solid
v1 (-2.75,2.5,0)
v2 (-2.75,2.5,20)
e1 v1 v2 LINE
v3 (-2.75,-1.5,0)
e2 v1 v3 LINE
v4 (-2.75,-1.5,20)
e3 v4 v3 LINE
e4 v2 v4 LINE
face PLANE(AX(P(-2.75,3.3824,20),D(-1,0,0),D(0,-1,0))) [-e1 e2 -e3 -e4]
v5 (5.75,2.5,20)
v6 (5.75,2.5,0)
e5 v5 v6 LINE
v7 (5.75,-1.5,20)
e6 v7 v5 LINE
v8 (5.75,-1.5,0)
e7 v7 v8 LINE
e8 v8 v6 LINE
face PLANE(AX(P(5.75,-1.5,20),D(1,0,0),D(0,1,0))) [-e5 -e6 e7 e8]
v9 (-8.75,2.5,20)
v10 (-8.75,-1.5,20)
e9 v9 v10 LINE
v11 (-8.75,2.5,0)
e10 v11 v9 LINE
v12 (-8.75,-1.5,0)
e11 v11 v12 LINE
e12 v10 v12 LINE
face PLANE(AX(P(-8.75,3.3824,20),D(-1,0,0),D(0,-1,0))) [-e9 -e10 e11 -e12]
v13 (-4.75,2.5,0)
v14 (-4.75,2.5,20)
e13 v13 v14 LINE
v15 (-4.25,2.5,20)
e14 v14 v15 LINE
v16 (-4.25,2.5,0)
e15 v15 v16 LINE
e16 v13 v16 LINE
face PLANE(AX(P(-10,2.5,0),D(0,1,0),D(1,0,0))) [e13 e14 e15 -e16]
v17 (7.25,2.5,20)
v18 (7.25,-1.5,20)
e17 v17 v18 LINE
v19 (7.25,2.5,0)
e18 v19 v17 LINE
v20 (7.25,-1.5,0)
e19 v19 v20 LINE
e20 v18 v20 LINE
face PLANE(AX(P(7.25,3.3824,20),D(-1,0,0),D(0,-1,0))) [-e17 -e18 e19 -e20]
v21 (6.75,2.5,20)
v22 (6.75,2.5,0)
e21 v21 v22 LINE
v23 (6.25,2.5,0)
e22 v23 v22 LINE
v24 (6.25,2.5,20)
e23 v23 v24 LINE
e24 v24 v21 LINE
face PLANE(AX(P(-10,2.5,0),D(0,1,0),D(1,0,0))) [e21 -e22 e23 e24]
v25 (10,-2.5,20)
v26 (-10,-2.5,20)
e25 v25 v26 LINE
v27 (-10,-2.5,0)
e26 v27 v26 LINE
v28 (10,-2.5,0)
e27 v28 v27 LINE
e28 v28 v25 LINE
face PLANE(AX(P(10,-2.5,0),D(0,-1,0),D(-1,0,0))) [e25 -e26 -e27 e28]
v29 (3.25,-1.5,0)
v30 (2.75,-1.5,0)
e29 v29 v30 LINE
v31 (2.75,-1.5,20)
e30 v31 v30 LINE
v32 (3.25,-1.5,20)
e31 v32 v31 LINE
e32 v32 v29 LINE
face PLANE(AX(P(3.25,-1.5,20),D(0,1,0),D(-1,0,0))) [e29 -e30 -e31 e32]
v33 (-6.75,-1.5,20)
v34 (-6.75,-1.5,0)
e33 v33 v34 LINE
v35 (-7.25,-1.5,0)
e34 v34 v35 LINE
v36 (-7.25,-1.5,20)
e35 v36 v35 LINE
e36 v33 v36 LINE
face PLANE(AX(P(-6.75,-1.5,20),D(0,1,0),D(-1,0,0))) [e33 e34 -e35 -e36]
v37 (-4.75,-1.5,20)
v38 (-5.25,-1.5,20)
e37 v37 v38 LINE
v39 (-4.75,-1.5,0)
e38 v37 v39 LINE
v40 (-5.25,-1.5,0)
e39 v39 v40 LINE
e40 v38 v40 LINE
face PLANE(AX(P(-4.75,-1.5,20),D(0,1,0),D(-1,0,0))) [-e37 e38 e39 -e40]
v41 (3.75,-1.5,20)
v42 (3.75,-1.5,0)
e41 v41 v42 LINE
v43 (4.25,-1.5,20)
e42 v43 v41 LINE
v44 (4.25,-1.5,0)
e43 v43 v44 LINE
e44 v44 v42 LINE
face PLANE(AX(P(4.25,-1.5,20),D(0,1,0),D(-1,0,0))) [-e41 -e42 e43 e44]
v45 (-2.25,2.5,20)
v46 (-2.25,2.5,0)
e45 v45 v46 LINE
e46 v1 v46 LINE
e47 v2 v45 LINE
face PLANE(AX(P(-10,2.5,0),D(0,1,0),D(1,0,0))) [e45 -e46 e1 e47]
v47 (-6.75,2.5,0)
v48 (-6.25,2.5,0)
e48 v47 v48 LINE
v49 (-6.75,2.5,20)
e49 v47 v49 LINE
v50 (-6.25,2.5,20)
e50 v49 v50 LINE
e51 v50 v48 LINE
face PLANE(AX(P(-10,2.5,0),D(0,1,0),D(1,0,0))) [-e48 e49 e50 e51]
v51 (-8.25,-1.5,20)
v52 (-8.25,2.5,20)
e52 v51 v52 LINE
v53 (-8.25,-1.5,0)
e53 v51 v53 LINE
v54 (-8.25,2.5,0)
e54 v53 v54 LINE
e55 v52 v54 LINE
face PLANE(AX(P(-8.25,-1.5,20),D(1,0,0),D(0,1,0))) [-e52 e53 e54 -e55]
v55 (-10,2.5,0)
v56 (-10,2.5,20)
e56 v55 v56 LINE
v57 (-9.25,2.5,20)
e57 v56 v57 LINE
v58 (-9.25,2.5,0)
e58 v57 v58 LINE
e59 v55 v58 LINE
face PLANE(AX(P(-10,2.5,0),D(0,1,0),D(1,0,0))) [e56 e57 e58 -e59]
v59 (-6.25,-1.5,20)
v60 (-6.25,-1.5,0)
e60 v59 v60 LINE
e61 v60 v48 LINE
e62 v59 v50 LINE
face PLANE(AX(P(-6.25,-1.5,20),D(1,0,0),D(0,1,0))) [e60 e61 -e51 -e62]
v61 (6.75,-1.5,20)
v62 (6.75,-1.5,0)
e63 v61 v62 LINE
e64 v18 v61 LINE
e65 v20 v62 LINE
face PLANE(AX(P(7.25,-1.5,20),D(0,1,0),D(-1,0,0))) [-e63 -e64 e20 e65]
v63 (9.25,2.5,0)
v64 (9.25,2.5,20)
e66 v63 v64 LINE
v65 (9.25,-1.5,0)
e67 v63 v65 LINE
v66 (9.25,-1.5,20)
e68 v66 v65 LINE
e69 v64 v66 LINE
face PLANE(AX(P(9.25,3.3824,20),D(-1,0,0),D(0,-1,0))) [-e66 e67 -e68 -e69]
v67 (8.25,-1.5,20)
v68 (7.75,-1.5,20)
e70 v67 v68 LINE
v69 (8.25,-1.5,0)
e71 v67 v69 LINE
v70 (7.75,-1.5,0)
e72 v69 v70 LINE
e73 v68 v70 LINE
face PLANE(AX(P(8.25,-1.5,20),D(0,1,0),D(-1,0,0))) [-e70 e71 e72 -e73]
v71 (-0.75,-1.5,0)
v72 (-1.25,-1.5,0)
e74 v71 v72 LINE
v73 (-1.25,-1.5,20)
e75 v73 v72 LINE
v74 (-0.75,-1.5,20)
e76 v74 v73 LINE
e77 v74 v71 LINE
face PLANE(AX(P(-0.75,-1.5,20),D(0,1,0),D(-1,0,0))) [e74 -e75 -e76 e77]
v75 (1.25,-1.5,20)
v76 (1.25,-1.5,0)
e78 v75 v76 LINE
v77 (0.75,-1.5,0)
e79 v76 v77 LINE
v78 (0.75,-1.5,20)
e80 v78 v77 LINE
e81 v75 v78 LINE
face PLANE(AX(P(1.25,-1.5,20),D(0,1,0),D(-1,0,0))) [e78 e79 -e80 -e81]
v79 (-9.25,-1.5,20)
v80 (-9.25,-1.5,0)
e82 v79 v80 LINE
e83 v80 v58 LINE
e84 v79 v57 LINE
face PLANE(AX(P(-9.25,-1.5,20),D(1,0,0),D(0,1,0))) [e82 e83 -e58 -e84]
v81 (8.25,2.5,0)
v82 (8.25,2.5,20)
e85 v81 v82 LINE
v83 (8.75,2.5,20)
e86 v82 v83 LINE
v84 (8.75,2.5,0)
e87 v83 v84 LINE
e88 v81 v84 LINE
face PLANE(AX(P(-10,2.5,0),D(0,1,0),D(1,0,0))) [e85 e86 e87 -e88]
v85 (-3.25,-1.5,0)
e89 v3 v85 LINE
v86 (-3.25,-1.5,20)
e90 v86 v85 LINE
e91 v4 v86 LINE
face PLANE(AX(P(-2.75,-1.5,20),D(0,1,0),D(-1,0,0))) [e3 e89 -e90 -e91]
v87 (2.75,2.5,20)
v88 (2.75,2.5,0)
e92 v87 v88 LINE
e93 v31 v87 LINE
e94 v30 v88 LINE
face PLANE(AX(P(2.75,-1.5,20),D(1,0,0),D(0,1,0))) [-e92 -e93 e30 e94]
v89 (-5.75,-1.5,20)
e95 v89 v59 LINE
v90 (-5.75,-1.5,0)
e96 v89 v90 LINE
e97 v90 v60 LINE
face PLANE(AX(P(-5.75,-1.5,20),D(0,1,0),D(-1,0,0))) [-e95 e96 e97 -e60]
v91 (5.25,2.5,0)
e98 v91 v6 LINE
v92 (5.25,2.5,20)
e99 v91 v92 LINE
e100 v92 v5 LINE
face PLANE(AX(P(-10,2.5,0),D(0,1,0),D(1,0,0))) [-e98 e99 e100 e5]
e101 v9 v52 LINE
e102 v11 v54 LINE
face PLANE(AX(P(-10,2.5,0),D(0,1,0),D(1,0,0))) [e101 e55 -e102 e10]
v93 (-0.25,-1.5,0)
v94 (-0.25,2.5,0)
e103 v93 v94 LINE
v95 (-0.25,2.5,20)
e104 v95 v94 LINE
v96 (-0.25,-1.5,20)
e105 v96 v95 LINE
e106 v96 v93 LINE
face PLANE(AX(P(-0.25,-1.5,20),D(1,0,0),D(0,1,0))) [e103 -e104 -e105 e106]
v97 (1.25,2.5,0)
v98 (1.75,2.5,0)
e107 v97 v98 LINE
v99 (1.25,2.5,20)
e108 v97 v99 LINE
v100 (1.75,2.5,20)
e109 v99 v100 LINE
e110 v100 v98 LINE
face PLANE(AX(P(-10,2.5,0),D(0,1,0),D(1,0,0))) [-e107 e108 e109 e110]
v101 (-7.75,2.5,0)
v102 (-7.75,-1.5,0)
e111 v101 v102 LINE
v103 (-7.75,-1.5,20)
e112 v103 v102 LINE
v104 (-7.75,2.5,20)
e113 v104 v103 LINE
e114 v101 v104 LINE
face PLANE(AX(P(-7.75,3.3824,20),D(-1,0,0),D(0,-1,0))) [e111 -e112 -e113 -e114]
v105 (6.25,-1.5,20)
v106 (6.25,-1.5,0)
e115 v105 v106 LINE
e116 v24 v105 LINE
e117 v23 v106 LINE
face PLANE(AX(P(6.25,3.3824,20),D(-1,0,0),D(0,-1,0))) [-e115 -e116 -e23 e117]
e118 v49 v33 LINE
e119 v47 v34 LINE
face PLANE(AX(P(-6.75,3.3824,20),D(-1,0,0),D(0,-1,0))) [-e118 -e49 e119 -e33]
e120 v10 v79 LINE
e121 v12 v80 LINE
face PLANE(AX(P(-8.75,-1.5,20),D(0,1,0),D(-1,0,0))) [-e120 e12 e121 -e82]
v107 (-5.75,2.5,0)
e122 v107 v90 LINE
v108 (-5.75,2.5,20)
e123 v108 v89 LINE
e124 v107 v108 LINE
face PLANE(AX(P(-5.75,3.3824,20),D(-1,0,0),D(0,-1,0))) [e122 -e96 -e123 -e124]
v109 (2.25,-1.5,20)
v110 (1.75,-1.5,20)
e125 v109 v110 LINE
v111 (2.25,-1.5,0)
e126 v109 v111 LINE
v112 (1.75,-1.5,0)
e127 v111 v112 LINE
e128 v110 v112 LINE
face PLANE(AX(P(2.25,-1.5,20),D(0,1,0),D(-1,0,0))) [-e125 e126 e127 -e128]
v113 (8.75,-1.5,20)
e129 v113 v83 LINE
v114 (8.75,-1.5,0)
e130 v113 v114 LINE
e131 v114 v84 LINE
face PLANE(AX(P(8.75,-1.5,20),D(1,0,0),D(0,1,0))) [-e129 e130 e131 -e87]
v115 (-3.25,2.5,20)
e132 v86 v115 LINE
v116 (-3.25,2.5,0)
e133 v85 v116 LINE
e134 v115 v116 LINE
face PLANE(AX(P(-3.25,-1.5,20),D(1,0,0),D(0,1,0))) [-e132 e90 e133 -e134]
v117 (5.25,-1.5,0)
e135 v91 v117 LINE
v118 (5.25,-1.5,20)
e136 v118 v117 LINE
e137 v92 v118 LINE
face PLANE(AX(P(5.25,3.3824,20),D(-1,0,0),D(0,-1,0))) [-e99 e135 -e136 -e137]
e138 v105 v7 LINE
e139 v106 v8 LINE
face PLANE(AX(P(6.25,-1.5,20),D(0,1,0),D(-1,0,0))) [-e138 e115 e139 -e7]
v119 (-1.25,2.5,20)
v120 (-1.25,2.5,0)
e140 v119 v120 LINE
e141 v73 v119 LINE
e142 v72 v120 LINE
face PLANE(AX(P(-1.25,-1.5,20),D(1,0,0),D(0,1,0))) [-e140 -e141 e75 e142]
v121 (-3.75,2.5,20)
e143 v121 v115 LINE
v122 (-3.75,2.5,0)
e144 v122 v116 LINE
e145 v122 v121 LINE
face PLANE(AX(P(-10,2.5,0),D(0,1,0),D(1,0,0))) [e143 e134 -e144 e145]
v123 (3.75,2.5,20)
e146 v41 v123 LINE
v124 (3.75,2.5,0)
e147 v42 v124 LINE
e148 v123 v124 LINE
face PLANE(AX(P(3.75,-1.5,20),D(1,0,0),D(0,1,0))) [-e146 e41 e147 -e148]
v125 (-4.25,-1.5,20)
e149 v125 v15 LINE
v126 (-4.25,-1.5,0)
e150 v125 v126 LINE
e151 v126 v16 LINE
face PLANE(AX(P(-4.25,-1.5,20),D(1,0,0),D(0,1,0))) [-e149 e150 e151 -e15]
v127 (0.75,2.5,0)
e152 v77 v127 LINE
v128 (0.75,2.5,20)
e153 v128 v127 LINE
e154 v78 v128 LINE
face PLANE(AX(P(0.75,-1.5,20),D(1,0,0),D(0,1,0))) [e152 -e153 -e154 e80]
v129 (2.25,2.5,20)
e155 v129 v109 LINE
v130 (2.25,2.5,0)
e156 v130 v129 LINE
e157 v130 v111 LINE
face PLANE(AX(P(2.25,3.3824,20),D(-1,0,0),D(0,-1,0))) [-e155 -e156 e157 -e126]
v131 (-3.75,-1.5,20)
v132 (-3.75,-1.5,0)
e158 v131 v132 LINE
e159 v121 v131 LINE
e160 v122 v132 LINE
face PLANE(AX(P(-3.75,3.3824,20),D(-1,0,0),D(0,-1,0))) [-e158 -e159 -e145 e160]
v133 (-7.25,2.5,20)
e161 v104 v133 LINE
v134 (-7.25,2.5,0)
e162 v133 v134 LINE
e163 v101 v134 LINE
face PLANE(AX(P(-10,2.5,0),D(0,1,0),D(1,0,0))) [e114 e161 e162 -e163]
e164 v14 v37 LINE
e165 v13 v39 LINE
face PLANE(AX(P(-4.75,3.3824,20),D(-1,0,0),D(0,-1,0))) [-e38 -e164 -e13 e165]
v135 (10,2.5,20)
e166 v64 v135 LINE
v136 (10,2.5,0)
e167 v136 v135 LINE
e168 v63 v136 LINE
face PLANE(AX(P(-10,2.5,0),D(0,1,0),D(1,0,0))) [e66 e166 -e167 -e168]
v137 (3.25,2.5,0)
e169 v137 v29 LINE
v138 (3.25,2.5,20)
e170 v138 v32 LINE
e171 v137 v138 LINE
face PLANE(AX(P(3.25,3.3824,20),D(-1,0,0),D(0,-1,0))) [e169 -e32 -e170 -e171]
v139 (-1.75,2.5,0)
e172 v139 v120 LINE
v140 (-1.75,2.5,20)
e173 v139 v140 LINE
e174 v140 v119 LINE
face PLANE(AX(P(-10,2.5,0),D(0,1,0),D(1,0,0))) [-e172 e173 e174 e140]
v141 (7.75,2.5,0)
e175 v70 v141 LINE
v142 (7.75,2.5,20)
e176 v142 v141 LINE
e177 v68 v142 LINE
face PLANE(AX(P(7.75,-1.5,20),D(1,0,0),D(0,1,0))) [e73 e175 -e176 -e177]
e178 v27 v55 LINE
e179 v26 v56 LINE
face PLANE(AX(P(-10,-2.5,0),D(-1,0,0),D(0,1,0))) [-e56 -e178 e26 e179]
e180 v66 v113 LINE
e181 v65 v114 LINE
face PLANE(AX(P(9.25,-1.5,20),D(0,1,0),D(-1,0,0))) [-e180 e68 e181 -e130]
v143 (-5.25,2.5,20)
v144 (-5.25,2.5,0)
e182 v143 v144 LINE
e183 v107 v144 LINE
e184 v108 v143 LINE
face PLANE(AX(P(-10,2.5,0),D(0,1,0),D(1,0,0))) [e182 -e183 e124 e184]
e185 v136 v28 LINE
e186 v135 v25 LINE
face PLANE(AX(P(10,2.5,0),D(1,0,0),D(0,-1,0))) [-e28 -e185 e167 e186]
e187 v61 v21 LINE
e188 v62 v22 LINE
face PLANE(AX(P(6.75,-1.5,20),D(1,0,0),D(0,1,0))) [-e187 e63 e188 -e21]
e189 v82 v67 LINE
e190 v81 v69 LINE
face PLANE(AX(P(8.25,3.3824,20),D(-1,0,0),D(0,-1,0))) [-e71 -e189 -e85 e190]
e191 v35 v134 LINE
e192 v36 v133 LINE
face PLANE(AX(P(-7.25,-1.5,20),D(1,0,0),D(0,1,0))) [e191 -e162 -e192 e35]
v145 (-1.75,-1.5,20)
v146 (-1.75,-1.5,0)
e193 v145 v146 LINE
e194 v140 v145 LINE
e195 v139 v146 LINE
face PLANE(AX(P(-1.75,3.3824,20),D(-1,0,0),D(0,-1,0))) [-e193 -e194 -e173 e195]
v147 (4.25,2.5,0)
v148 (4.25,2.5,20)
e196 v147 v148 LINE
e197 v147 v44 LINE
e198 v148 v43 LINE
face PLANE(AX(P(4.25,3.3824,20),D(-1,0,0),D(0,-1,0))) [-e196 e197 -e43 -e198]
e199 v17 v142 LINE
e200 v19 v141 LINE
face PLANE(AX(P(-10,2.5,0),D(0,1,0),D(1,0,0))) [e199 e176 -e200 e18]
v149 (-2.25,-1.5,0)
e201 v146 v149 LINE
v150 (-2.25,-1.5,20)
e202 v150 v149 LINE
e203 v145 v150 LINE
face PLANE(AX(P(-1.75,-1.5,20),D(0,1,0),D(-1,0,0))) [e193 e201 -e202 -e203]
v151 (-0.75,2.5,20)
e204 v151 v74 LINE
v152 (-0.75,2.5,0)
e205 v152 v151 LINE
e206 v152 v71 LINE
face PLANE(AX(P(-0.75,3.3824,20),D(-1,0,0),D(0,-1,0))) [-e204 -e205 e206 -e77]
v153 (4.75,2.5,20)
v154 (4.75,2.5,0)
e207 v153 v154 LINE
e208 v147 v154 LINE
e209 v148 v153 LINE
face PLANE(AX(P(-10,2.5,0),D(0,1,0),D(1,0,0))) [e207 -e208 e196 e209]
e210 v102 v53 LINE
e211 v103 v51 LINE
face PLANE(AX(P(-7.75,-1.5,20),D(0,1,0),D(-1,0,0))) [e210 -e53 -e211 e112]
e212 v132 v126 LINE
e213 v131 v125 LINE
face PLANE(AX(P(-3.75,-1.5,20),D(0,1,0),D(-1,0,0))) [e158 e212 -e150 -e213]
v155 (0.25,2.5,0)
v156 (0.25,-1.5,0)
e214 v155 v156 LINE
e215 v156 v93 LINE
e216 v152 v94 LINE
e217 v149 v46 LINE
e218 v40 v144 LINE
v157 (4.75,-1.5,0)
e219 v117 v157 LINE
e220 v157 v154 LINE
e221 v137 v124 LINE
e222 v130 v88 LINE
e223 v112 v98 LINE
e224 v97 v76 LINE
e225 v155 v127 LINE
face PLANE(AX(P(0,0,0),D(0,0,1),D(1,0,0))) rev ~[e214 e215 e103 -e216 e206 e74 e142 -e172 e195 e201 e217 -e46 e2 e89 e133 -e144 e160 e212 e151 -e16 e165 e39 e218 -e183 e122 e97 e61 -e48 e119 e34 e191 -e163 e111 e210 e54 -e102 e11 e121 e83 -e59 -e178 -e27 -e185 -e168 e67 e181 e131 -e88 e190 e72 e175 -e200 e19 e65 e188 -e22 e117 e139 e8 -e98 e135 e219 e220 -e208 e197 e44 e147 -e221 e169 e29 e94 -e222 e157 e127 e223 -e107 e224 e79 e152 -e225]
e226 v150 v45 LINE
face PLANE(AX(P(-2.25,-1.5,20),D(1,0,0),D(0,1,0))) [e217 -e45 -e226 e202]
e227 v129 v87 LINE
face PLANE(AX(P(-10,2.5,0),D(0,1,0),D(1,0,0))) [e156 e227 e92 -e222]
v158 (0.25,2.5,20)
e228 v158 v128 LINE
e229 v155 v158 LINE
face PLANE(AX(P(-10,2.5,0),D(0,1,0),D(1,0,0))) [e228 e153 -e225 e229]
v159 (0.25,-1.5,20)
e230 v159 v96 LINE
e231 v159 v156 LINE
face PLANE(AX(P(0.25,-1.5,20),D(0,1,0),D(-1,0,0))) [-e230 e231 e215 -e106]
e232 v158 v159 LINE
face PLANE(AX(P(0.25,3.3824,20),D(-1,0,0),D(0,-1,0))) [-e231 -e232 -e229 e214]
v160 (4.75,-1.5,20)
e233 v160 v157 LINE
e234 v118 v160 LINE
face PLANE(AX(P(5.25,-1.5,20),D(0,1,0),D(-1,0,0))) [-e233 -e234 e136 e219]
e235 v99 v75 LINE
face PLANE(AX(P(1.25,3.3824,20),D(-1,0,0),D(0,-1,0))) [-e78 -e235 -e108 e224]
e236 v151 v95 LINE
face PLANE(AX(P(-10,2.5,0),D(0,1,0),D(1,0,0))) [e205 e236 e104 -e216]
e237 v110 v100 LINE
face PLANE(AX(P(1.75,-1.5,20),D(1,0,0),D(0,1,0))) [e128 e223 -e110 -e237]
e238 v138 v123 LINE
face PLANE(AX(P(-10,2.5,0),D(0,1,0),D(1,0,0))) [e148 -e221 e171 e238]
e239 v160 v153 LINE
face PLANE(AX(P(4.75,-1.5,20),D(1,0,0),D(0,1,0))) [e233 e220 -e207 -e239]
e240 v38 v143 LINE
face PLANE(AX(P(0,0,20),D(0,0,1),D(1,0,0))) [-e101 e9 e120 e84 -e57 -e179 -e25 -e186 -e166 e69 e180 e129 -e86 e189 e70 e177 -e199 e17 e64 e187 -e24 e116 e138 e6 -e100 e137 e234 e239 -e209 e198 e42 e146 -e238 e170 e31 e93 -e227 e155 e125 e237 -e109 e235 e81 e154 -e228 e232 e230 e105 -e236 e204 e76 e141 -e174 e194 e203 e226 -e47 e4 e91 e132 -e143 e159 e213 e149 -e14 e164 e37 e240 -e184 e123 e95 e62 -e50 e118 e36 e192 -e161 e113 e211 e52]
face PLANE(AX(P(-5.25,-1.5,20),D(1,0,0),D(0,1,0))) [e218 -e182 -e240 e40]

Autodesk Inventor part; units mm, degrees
ref_plane "YZ Plane" through (0, 0, 0) normal (1, 0, 0) x (0, 1, 0)
ref_plane "XZ Plane" through (0, 0, 0) normal (0, 1, 0) x (-1, 0, 0)
ref_plane "XY Plane" through (0, 0, 0) normal (0, 0, 1) x (1, 0, 0)
sketch "Sketch1" plane through (0, 0, 0) normal (0, 0, 1) x (1, 0, 0)
  line L0 (-10, 2.5) -> (10, 2.5)
  line L1 (10, 2.5) -> (10, -2.5)
  line L2 (10, -2.5) -> (-10, -2.5)
  line L3 (-10, -2.5) -> (-10, 2.5)
  line L4 (-10, 2.5) -> (10, -2.5) construction
  line L5 (10, 2.5) -> (-10, -2.5) construction
  point P0 (0, 0)
  dimension "d0" = 20
  dimension "d1" = 5
extrude "Extrusion1" add sketch "Sketch1" along normal blind 20
sketch "Sketch2" plane through (0, 0, 20) normal (0, 0, 1) x (1, 0, 0)
  line L0 (-0.25, 3.3824) -> (0.25, 3.3824)
  line L1 (0.25, 3.3824) -> (0.25, -1.5)
  line L2 (0.25, -1.5) -> (-0.25, -1.5)
  line L3 (-0.25, -1.5) -> (-0.25, 3.3824)
  line L4 (-0.25, 3.3824) -> (0.25, -1.5) construction
  line L5 (0.25, 3.3824) -> (-0.25, -1.5) construction
  line L6 (-10, -2.5) -> (10, -2.5) projected
  line L7 (0.75, 3.3824) -> (1.25, 3.3824)
  line L8 (1.25, 3.3824) -> (1.25, -1.5)
  line L9 (1.25, -1.5) -> (0.75, -1.5)
  line L10 (0.75, -1.5) -> (0.75, 3.3824)
  line L11 (0.75, 3.3824) -> (1.25, -1.5) construction
  line L12 (1.25, 3.3824) -> (0.75, -1.5) construction
  line L13 (1.75, 3.3824) -> (2.25, 3.3824)
  line L14 (2.25, 3.3824) -> (2.25, -1.5)
  line L15 (2.25, -1.5) -> (1.75, -1.5)
  line L16 (1.75, -1.5) -> (1.75, 3.3824)
  line L17 (1.75, 3.3824) -> (2.25, -1.5) construction
  line L18 (2.25, 3.3824) -> (1.75, -1.5) construction
  line L19 (2.75, 3.3824) -> (3.25, 3.3824)
  line L20 (3.25, 3.3824) -> (3.25, -1.5)
  line L21 (3.25, -1.5) -> (2.75, -1.5)
  line L22 (2.75, -1.5) -> (2.75, 3.3824)
  line L23 (2.75, 3.3824) -> (3.25, -1.5) construction
  line L24 (3.25, 3.3824) -> (2.75, -1.5) construction
  line L25 (3.75, 3.3824) -> (4.25, 3.3824)
  line L26 (4.25, 3.3824) -> (4.25, -1.5)
  line L27 (4.25, -1.5) -> (3.75, -1.5)
  line L28 (3.75, -1.5) -> (3.75, 3.3824)
  line L29 (3.75, 3.3824) -> (4.25, -1.5) construction
  line L30 (4.25, 3.3824) -> (3.75, -1.5) construction
  line L31 (4.75, 3.3824) -> (5.25, 3.3824)
  line L32 (5.25, 3.3824) -> (5.25, -1.5)
  line L33 (5.25, -1.5) -> (4.75, -1.5)
  line L34 (4.75, -1.5) -> (4.75, 3.3824)
  line L35 (4.75, 3.3824) -> (5.25, -1.5) construction
  line L36 (5.25, 3.3824) -> (4.75, -1.5) construction
  line L37 (5.75, 3.3824) -> (6.25, 3.3824)
  line L38 (6.25, 3.3824) -> (6.25, -1.5)
  line L39 (6.25, -1.5) -> (5.75, -1.5)
  line L40 (5.75, -1.5) -> (5.75, 3.3824)
  line L41 (5.75, 3.3824) -> (6.25, -1.5) construction
  line L42 (6.25, 3.3824) -> (5.75, -1.5) construction
  line L43 (6.75, 3.3824) -> (7.25, 3.3824)
  line L44 (7.25, 3.3824) -> (7.25, -1.5)
  line L45 (7.25, -1.5) -> (6.75, -1.5)
  line L46 (6.75, -1.5) -> (6.75, 3.3824)
  line L47 (6.75, 3.3824) -> (7.25, -1.5) construction
  line L48 (7.25, 3.3824) -> (6.75, -1.5) construction
  line L49 (7.75, 3.3824) -> (8.25, 3.3824)
  line L50 (8.25, 3.3824) -> (8.25, -1.5)
  line L51 (8.25, -1.5) -> (7.75, -1.5)
  line L52 (7.75, -1.5) -> (7.75, 3.3824)
  line L53 (7.75, 3.3824) -> (8.25, -1.5) construction
  line L54 (8.25, 3.3824) -> (7.75, -1.5) construction
  line L55 (8.75, 3.3824) -> (9.25, 3.3824)
  line L56 (9.25, 3.3824) -> (9.25, -1.5)
  line L57 (9.25, -1.5) -> (8.75, -1.5)
  line L58 (8.75, -1.5) -> (8.75, 3.3824)
  line L59 (8.75, 3.3824) -> (9.25, -1.5) construction
  line L60 (9.25, 3.3824) -> (8.75, -1.5) construction
  line L61 (-1.25, 3.3824) -> (-0.75, 3.3824)
  line L62 (-0.75, 3.3824) -> (-0.75, -1.5)
  line L63 (-0.75, -1.5) -> (-1.25, -1.5)
  line L64 (-1.25, -1.5) -> (-1.25, 3.3824)
  line L65 (-1.25, 3.3824) -> (-0.75, -1.5) construction
  line L66 (-0.75, 3.3824) -> (-1.25, -1.5) construction
  line L67 (-0.25, 3.3824) -> (0.25, 3.3824)
  line L68 (0.25, 3.3824) -> (0.25, -1.5)
  line L69 (0.25, -1.5) -> (-0.25, -1.5)
  line L70 (-0.25, -1.5) -> (-0.25, 3.3824)
  line L71 (-0.25, 3.3824) -> (0.25, -1.5) construction
  line L72 (0.25, 3.3824) -> (-0.25, -1.5) construction
  line L73 (0.75, 3.3824) -> (1.25, 3.3824)
  line L74 (1.25, 3.3824) -> (1.25, -1.5)
  line L75 (1.25, -1.5) -> (0.75, -1.5)
  line L76 (0.75, -1.5) -> (0.75, 3.3824)
  line L77 (0.75, 3.3824) -> (1.25, -1.5) construction
  line L78 (1.25, 3.3824) -> (0.75, -1.5) construction
  line L79 (1.75, 3.3824) -> (2.25, 3.3824)
  line L80 (2.25, 3.3824) -> (2.25, -1.5)
  line L81 (2.25, -1.5) -> (1.75, -1.5)
  line L82 (1.75, -1.5) -> (1.75, 3.3824)
  line L83 (1.75, 3.3824) -> (2.25, -1.5) construction
  line L84 (2.25, 3.3824) -> (1.75, -1.5) construction
  line L85 (2.75, 3.3824) -> (3.25, 3.3824)
  line L86 (3.25, 3.3824) -> (3.25, -1.5)
  line L87 (3.25, -1.5) -> (2.75, -1.5)
  line L88 (2.75, -1.5) -> (2.75, 3.3824)
  line L89 (2.75, 3.3824) -> (3.25, -1.5) construction
  line L90 (3.25, 3.3824) -> (2.75, -1.5) construction
  line L91 (3.75, 3.3824) -> (4.25, 3.3824)
  line L92 (4.25, 3.3824) -> (4.25, -1.5)
  line L93 (4.25, -1.5) -> (3.75, -1.5)
  line L94 (3.75, -1.5) -> (3.75, 3.3824)
  line L95 (3.75, 3.3824) -> (4.25, -1.5) construction
  line L96 (4.25, 3.3824) -> (3.75, -1.5) construction
  line L97 (4.75, 3.3824) -> (5.25, 3.3824)
  line L98 (5.25, 3.3824) -> (5.25, -1.5)
  line L99 (5.25, -1.5) -> (4.75, -1.5)
  line L100 (4.75, -1.5) -> (4.75, 3.3824)
  line L101 (4.75, 3.3824) -> (5.25, -1.5) construction
  line L102 (5.25, 3.3824) -> (4.75, -1.5) construction
  line L103 (5.75, 3.3824) -> (6.25, 3.3824)
  line L104 (6.25, 3.3824) -> (6.25, -1.5)
  line L105 (6.25, -1.5) -> (5.75, -1.5)
  line L106 (5.75, -1.5) -> (5.75, 3.3824)
  line L107 (5.75, 3.3824) -> (6.25, -1.5) construction
  line L108 (6.25, 3.3824) -> (5.75, -1.5) construction
  line L109 (6.75, 3.3824) -> (7.25, 3.3824)
  line L110 (7.25, 3.3824) -> (7.25, -1.5)
  line L111 (7.25, -1.5) -> (6.75, -1.5)
  line L112 (6.75, -1.5) -> (6.75, 3.3824)
  line L113 (6.75, 3.3824) -> (7.25, -1.5) construction
  line L114 (7.25, 3.3824) -> (6.75, -1.5) construction
  line L115 (7.75, 3.3824) -> (8.25, 3.3824)
  line L116 (8.25, 3.3824) -> (8.25, -1.5)
  line L117 (8.25, -1.5) -> (7.75, -1.5)
  line L118 (7.75, -1.5) -> (7.75, 3.3824)
  line L119 (7.75, 3.3824) -> (8.25, -1.5) construction
  line L120 (8.25, 3.3824) -> (7.75, -1.5) construction
  line L121 (-2.25, 3.3824) -> (-1.75, 3.3824)
  line L122 (-1.75, 3.3824) -> (-1.75, -1.5)
  line L123 (-1.75, -1.5) -> (-2.25, -1.5)
  line L124 (-2.25, -1.5) -> (-2.25, 3.3824)
  line L125 (-2.25, 3.3824) -> (-1.75, -1.5) construction
  line L126 (-1.75, 3.3824) -> (-2.25, -1.5) construction
  line L127 (-1.25, 3.3824) -> (-0.75, 3.3824)
  line L128 (-0.75, 3.3824) -> (-0.75, -1.5)
  line L129 (-0.75, -1.5) -> (-1.25, -1.5)
  line L130 (-1.25, -1.5) -> (-1.25, 3.3824)
  line L131 (-1.25, 3.3824) -> (-0.75, -1.5) construction
  line L132 (-0.75, 3.3824) -> (-1.25, -1.5) construction
  line L133 (-0.25, 3.3824) -> (0.25, 3.3824)
  line L134 (0.25, 3.3824) -> (0.25, -1.5)
  line L135 (0.25, -1.5) -> (-0.25, -1.5)
  line L136 (-0.25, -1.5) -> (-0.25, 3.3824)
  line L137 (-0.25, 3.3824) -> (0.25, -1.5) construction
  line L138 (0.25, 3.3824) -> (-0.25, -1.5) construction
  line L139 (0.75, 3.3824) -> (1.25, 3.3824)
  line L140 (1.25, 3.3824) -> (1.25, -1.5)
  line L141 (1.25, -1.5) -> (0.75, -1.5)
  line L142 (0.75, -1.5) -> (0.75, 3.3824)
  line L143 (0.75, 3.3824) -> (1.25, -1.5) construction
  line L144 (1.25, 3.3824) -> (0.75, -1.5) construction
  line L145 (1.75, 3.3824) -> (2.25, 3.3824)
  line L146 (2.25, 3.3824) -> (2.25, -1.5)
  line L147 (2.25, -1.5) -> (1.75, -1.5)
  line L148 (1.75, -1.5) -> (1.75, 3.3824)
  line L149 (1.75, 3.3824) -> (2.25, -1.5) construction
  line L150 (2.25, 3.3824) -> (1.75, -1.5) construction
  line L151 (2.75, 3.3824) -> (3.25, 3.3824)
  line L152 (3.25, 3.3824) -> (3.25, -1.5)
  line L153 (3.25, -1.5) -> (2.75, -1.5)
  line L154 (2.75, -1.5) -> (2.75, 3.3824)
  line L155 (2.75, 3.3824) -> (3.25, -1.5) construction
  line L156 (3.25, 3.3824) -> (2.75, -1.5) construction
  line L157 (3.75, 3.3824) -> (4.25, 3.3824)
  line L158 (4.25, 3.3824) -> (4.25, -1.5)
  line L159 (4.25, -1.5) -> (3.75, -1.5)
  line L160 (3.75, -1.5) -> (3.75, 3.3824)
  line L161 (3.75, 3.3824) -> (4.25, -1.5) construction
  line L162 (4.25, 3.3824) -> (3.75, -1.5) construction
  line L163 (4.75, 3.3824) -> (5.25, 3.3824)
  line L164 (5.25, 3.3824) -> (5.25, -1.5)
  line L165 (5.25, -1.5) -> (4.75, -1.5)
  line L166 (4.75, -1.5) -> (4.75, 3.3824)
  line L167 (4.75, 3.3824) -> (5.25, -1.5) construction
  line L168 (5.25, 3.3824) -> (4.75, -1.5) construction
  line L169 (5.75, 3.3824) -> (6.25, 3.3824)
  line L170 (6.25, 3.3824) -> (6.25, -1.5)
  line L171 (6.25, -1.5) -> (5.75, -1.5)
  line L172 (5.75, -1.5) -> (5.75, 3.3824)
  line L173 (5.75, 3.3824) -> (6.25, -1.5) construction
  line L174 (6.25, 3.3824) -> (5.75, -1.5) construction
  line L175 (6.75, 3.3824) -> (7.25, 3.3824)
  line L176 (7.25, 3.3824) -> (7.25, -1.5)
  line L177 (7.25, -1.5) -> (6.75, -1.5)
  line L178 (6.75, -1.5) -> (6.75, 3.3824)
  line L179 (6.75, 3.3824) -> (7.25, -1.5) construction
  line L180 (7.25, 3.3824) -> (6.75, -1.5) construction
  line L181 (-3.25, 3.3824) -> (-2.75, 3.3824)
  line L182 (-2.75, 3.3824) -> (-2.75, -1.5)
  line L183 (-2.75, -1.5) -> (-3.25, -1.5)
  line L184 (-3.25, -1.5) -> (-3.25, 3.3824)
  line L185 (-3.25, 3.3824) -> (-2.75, -1.5) construction
  line L186 (-2.75, 3.3824) -> (-3.25, -1.5) construction
  line L187 (-2.25, 3.3824) -> (-1.75, 3.3824)
  line L188 (-1.75, 3.3824) -> (-1.75, -1.5)
  line L189 (-1.75, -1.5) -> (-2.25, -1.5)
  line L190 (-2.25, -1.5) -> (-2.25, 3.3824)
  line L191 (-2.25, 3.3824) -> (-1.75, -1.5) construction
  line L192 (-1.75, 3.3824) -> (-2.25, -1.5) construction
  line L193 (-1.25, 3.3824) -> (-0.75, 3.3824)
  line L194 (-0.75, 3.3824) -> (-0.75, -1.5)
  line L195 (-0.75, -1.5) -> (-1.25, -1.5)
  line L196 (-1.25, -1.5) -> (-1.25, 3.3824)
  line L197 (-1.25, 3.3824) -> (-0.75, -1.5) construction
  line L198 (-0.75, 3.3824) -> (-1.25, -1.5) construction
  line L199 (-0.25, 3.3824) -> (0.25, 3.3824)
  line L200 (0.25, 3.3824) -> (0.25, -1.5)
  line L201 (0.25, -1.5) -> (-0.25, -1.5)
  line L202 (-0.25, -1.5) -> (-0.25, 3.3824)
  line L203 (-0.25, 3.3824) -> (0.25, -1.5) construction
  line L204 (0.25, 3.3824) -> (-0.25, -1.5) construction
  line L205 (0.75, 3.3824) -> (1.25, 3.3824)
  line L206 (1.25, 3.3824) -> (1.25, -1.5)
  line L207 (1.25, -1.5) -> (0.75, -1.5)
  line L208 (0.75, -1.5) -> (0.75, 3.3824)
  line L209 (0.75, 3.3824) -> (1.25, -1.5) construction
  line L210 (1.25, 3.3824) -> (0.75, -1.5) construction
  line L211 (1.75, 3.3824) -> (2.25, 3.3824)
  line L212 (2.25, 3.3824) -> (2.25, -1.5)
  line L213 (2.25, -1.5) -> (1.75, -1.5)
  line L214 (1.75, -1.5) -> (1.75, 3.3824)
  line L215 (1.75, 3.3824) -> (2.25, -1.5) construction
  line L216 (2.25, 3.3824) -> (1.75, -1.5) construction
  line L217 (2.75, 3.3824) -> (3.25, 3.3824)
  line L218 (3.25, 3.3824) -> (3.25, -1.5)
  line L219 (3.25, -1.5) -> (2.75, -1.5)
  line L220 (2.75, -1.5) -> (2.75, 3.3824)
  line L221 (2.75, 3.3824) -> (3.25, -1.5) construction
  line L222 (3.25, 3.3824) -> (2.75, -1.5) construction
  line L223 (3.75, 3.3824) -> (4.25, 3.3824)
  line L224 (4.25, 3.3824) -> (4.25, -1.5)
  line L225 (4.25, -1.5) -> (3.75, -1.5)
  line L226 (3.75, -1.5) -> (3.75, 3.3824)
  line L227 (3.75, 3.3824) -> (4.25, -1.5) construction
  line L228 (4.25, 3.3824) -> (3.75, -1.5) construction
  line L229 (4.75, 3.3824) -> (5.25, 3.3824)
  line L230 (5.25, 3.3824) -> (5.25, -1.5)
  line L231 (5.25, -1.5) -> (4.75, -1.5)
  line L232 (4.75, -1.5) -> (4.75, 3.3824)
  line L233 (4.75, 3.3824) -> (5.25, -1.5) construction
  line L234 (5.25, 3.3824) -> (4.75, -1.5) construction
  line L235 (5.75, 3.3824) -> (6.25, 3.3824)
  line L236 (6.25, 3.3824) -> (6.25, -1.5)
  line L237 (6.25, -1.5) -> (5.75, -1.5)
  line L238 (5.75, -1.5) -> (5.75, 3.3824)
  line L239 (5.75, 3.3824) -> (6.25, -1.5) construction
  line L240 (6.25, 3.3824) -> (5.75, -1.5) construction
  line L241 (-4.25, 3.3824) -> (-3.75, 3.3824)
  line L242 (-3.75, 3.3824) -> (-3.75, -1.5)
  line L243 (-3.75, -1.5) -> (-4.25, -1.5)
  line L244 (-4.25, -1.5) -> (-4.25, 3.3824)
  line L245 (-4.25, 3.3824) -> (-3.75, -1.5) construction
  line L246 (-3.75, 3.3824) -> (-4.25, -1.5) construction
  line L247 (-3.25, 3.3824) -> (-2.75, 3.3824)
  line L248 (-2.75, 3.3824) -> (-2.75, -1.5)
  line L249 (-2.75, -1.5) -> (-3.25, -1.5)
  line L250 (-3.25, -1.5) -> (-3.25, 3.3824)
  line L251 (-3.25, 3.3824) -> (-2.75, -1.5) construction
  line L252 (-2.75, 3.3824) -> (-3.25, -1.5) construction
  line L253 (-2.25, 3.3824) -> (-1.75, 3.3824)
  line L254 (-1.75, 3.3824) -> (-1.75, -1.5)
  line L255 (-1.75, -1.5) -> (-2.25, -1.5)
  line L256 (-2.25, -1.5) -> (-2.25, 3.3824)
  line L257 (-2.25, 3.3824) -> (-1.75, -1.5) construction
  line L258 (-1.75, 3.3824) -> (-2.25, -1.5) construction
  line L259 (-1.25, 3.3824) -> (-0.75, 3.3824)
  line L260 (-0.75, 3.3824) -> (-0.75, -1.5)
  line L261 (-0.75, -1.5) -> (-1.25, -1.5)
  line L262 (-1.25, -1.5) -> (-1.25, 3.3824)
  line L263 (-1.25, 3.3824) -> (-0.75, -1.5) construction
  line L264 (-0.75, 3.3824) -> (-1.25, -1.5) construction
  line L265 (-0.25, 3.3824) -> (0.25, 3.3824)
  line L266 (0.25, 3.3824) -> (0.25, -1.5)
  line L267 (0.25, -1.5) -> (-0.25, -1.5)
  line L268 (-0.25, -1.5) -> (-0.25, 3.3824)
  line L269 (-0.25, 3.3824) -> (0.25, -1.5) construction
  line L270 (0.25, 3.3824) -> (-0.25, -1.5) construction
  line L271 (0.75, 3.3824) -> (1.25, 3.3824)
  line L272 (1.25, 3.3824) -> (1.25, -1.5)
  line L273 (1.25, -1.5) -> (0.75, -1.5)
  line L274 (0.75, -1.5) -> (0.75, 3.3824)
  line L275 (0.75, 3.3824) -> (1.25, -1.5) construction
  line L276 (1.25, 3.3824) -> (0.75, -1.5) construction
  line L277 (1.75, 3.3824) -> (2.25, 3.3824)
  line L278 (2.25, 3.3824) -> (2.25, -1.5)
  line L279 (2.25, -1.5) -> (1.75, -1.5)
  line L280 (1.75, -1.5) -> (1.75, 3.3824)
  line L281 (1.75, 3.3824) -> (2.25, -1.5) construction
  line L282 (2.25, 3.3824) -> (1.75, -1.5) construction
  line L283 (2.75, 3.3824) -> (3.25, 3.3824)
  line L284 (3.25, 3.3824) -> (3.25, -1.5)
  line L285 (3.25, -1.5) -> (2.75, -1.5)
  line L286 (2.75, -1.5) -> (2.75, 3.3824)
  line L287 (2.75, 3.3824) -> (3.25, -1.5) construction
  line L288 (3.25, 3.3824) -> (2.75, -1.5) construction
  line L289 (3.75, 3.3824) -> (4.25, 3.3824)
  line L290 (4.25, 3.3824) -> (4.25, -1.5)
  line L291 (4.25, -1.5) -> (3.75, -1.5)
  line L292 (3.75, -1.5) -> (3.75, 3.3824)
  line L293 (3.75, 3.3824) -> (4.25, -1.5) construction
  line L294 (4.25, 3.3824) -> (3.75, -1.5) construction
  line L295 (4.75, 3.3824) -> (5.25, 3.3824)
  line L296 (5.25, 3.3824) -> (5.25, -1.5)
  line L297 (5.25, -1.5) -> (4.75, -1.5)
  line L298 (4.75, -1.5) -> (4.75, 3.3824)
  line L299 (4.75, 3.3824) -> (5.25, -1.5) construction
  line L300 (5.25, 3.3824) -> (4.75, -1.5) construction
  line L301 (-5.25, 3.3824) -> (-4.75, 3.3824)
  line L302 (-4.75, 3.3824) -> (-4.75, -1.5)
  line L303 (-4.75, -1.5) -> (-5.25, -1.5)
  line L304 (-5.25, -1.5) -> (-5.25, 3.3824)
  line L305 (-5.25, 3.3824) -> (-4.75, -1.5) construction
  line L306 (-4.75, 3.3824) -> (-5.25, -1.5) construction
  line L307 (-4.25, 3.3824) -> (-3.75, 3.3824)
  line L308 (-3.75, 3.3824) -> (-3.75, -1.5)
  line L309 (-3.75, -1.5) -> (-4.25, -1.5)
  line L310 (-4.25, -1.5) -> (-4.25, 3.3824)
  line L311 (-4.25, 3.3824) -> (-3.75, -1.5) construction
  line L312 (-3.75, 3.3824) -> (-4.25, -1.5) construction
  line L313 (-3.25, 3.3824) -> (-2.75, 3.3824)
  line L314 (-2.75, 3.3824) -> (-2.75, -1.5)
  line L315 (-2.75, -1.5) -> (-3.25, -1.5)
  line L316 (-3.25, -1.5) -> (-3.25, 3.3824)
  line L317 (-3.25, 3.3824) -> (-2.75, -1.5) construction
  line L318 (-2.75, 3.3824) -> (-3.25, -1.5) construction
  line L319 (-2.25, 3.3824) -> (-1.75, 3.3824)
  line L320 (-1.75, 3.3824) -> (-1.75, -1.5)
  line L321 (-1.75, -1.5) -> (-2.25, -1.5)
  line L322 (-2.25, -1.5) -> (-2.25, 3.3824)
  line L323 (-2.25, 3.3824) -> (-1.75, -1.5) construction
  line L324 (-1.75, 3.3824) -> (-2.25, -1.5) construction
  line L325 (-1.25, 3.3824) -> (-0.75, 3.3824)
  line L326 (-0.75, 3.3824) -> (-0.75, -1.5)
  line L327 (-0.75, -1.5) -> (-1.25, -1.5)
  line L328 (-1.25, -1.5) -> (-1.25, 3.3824)
  line L329 (-1.25, 3.3824) -> (-0.75, -1.5) construction
  line L330 (-0.75, 3.3824) -> (-1.25, -1.5) construction
  line L331 (-0.25, 3.3824) -> (0.25, 3.3824)
  line L332 (0.25, 3.3824) -> (0.25, -1.5)
  line L333 (0.25, -1.5) -> (-0.25, -1.5)
  line L334 (-0.25, -1.5) -> (-0.25, 3.3824)
  line L335 (-0.25, 3.3824) -> (0.25, -1.5) construction
  line L336 (0.25, 3.3824) -> (-0.25, -1.5) construction
  line L337 (0.75, 3.3824) -> (1.25, 3.3824)
  line L338 (1.25, 3.3824) -> (1.25, -1.5)
  line L339 (1.25, -1.5) -> (0.75, -1.5)
  line L340 (0.75, -1.5) -> (0.75, 3.3824)
  line L341 (0.75, 3.3824) -> (1.25, -1.5) construction
  line L342 (1.25, 3.3824) -> (0.75, -1.5) construction
  line L343 (1.75, 3.3824) -> (2.25, 3.3824)
  line L344 (2.25, 3.3824) -> (2.25, -1.5)
  line L345 (2.25, -1.5) -> (1.75, -1.5)
  line L346 (1.75, -1.5) -> (1.75, 3.3824)
  line L347 (1.75, 3.3824) -> (2.25, -1.5) construction
  line L348 (2.25, 3.3824) -> (1.75, -1.5) construction
  line L349 (2.75, 3.3824) -> (3.25, 3.3824)
  line L350 (3.25, 3.3824) -> (3.25, -1.5)
  line L351 (3.25, -1.5) -> (2.75, -1.5)
  line L352 (2.75, -1.5) -> (2.75, 3.3824)
  line L353 (2.75, 3.3824) -> (3.25, -1.5) construction
  line L354 (3.25, 3.3824) -> (2.75, -1.5) construction
  line L355 (3.75, 3.3824) -> (4.25, 3.3824)
  line L356 (4.25, 3.3824) -> (4.25, -1.5)
  line L357 (4.25, -1.5) -> (3.75, -1.5)
  line L358 (3.75, -1.5) -> (3.75, 3.3824)
  line L359 (3.75, 3.3824) -> (4.25, -1.5) construction
  line L360 (4.25, 3.3824) -> (3.75, -1.5) construction
  line L361 (-6.25, 3.3824) -> (-5.75, 3.3824)
  line L362 (-5.75, 3.3824) -> (-5.75, -1.5)
  line L363 (-5.75, -1.5) -> (-6.25, -1.5)
  line L364 (-6.25, -1.5) -> (-6.25, 3.3824)
  line L365 (-6.25, 3.3824) -> (-5.75, -1.5) construction
  line L366 (-5.75, 3.3824) -> (-6.25, -1.5) construction
  line L367 (-5.25, 3.3824) -> (-4.75, 3.3824)
  line L368 (-4.75, 3.3824) -> (-4.75, -1.5)
  line L369 (-4.75, -1.5) -> (-5.25, -1.5)
  line L370 (-5.25, -1.5) -> (-5.25, 3.3824)
  line L371 (-5.25, 3.3824) -> (-4.75, -1.5) construction
  line L372 (-4.75, 3.3824) -> (-5.25, -1.5) construction
  line L373 (-4.25, 3.3824) -> (-3.75, 3.3824)
  line L374 (-3.75, 3.3824) -> (-3.75, -1.5)
  line L375 (-3.75, -1.5) -> (-4.25, -1.5)
  line L376 (-4.25, -1.5) -> (-4.25, 3.3824)
  line L377 (-4.25, 3.3824) -> (-3.75, -1.5) construction
  line L378 (-3.75, 3.3824) -> (-4.25, -1.5) construction
  line L379 (-3.25, 3.3824) -> (-2.75, 3.3824)
  line L380 (-2.75, 3.3824) -> (-2.75, -1.5)
  line L381 (-2.75, -1.5) -> (-3.25, -1.5)
  line L382 (-3.25, -1.5) -> (-3.25, 3.3824)
  line L383 (-3.25, 3.3824) -> (-2.75, -1.5) construction
  line L384 (-2.75, 3.3824) -> (-3.25, -1.5) construction
  line L385 (-2.25, 3.3824) -> (-1.75, 3.3824)
  line L386 (-1.75, 3.3824) -> (-1.75, -1.5)
  line L387 (-1.75, -1.5) -> (-2.25, -1.5)
  line L388 (-2.25, -1.5) -> (-2.25, 3.3824)
  line L389 (-2.25, 3.3824) -> (-1.75, -1.5) construction
  line L390 (-1.75, 3.3824) -> (-2.25, -1.5) construction
  line L391 (-1.25, 3.3824) -> (-0.75, 3.3824)
  line L392 (-0.75, 3.3824) -> (-0.75, -1.5)
  line L393 (-0.75, -1.5) -> (-1.25, -1.5)
  line L394 (-1.25, -1.5) -> (-1.25, 3.3824)
  line L395 (-1.25, 3.3824) -> (-0.75, -1.5) construction
  line L396 (-0.75, 3.3824) -> (-1.25, -1.5) construction
  line L397 (-0.25, 3.3824) -> (0.25, 3.3824)
  line L398 (0.25, 3.3824) -> (0.25, -1.5)
  line L399 (0.25, -1.5) -> (-0.25, -1.5)
  line L400 (-0.25, -1.5) -> (-0.25, 3.3824)
  line L401 (-0.25, 3.3824) -> (0.25, -1.5) construction
  line L402 (0.25, 3.3824) -> (-0.25, -1.5) construction
  line L403 (0.75, 3.3824) -> (1.25, 3.3824)
  line L404 (1.25, 3.3824) -> (1.25, -1.5)
  line L405 (1.25, -1.5) -> (0.75, -1.5)
  line L406 (0.75, -1.5) -> (0.75, 3.3824)
  line L407 (0.75, 3.3824) -> (1.25, -1.5) construction
  line L408 (1.25, 3.3824) -> (0.75, -1.5) construction
  line L409 (1.75, 3.3824) -> (2.25, 3.3824)
  line L410 (2.25, 3.3824) -> (2.25, -1.5)
  line L411 (2.25, -1.5) -> (1.75, -1.5)
  line L412 (1.75, -1.5) -> (1.75, 3.3824)
  line L413 (1.75, 3.3824) -> (2.25, -1.5) construction
  line L414 (2.25, 3.3824) -> (1.75, -1.5) construction
  line L415 (2.75, 3.3824) -> (3.25, 3.3824)
  line L416 (3.25, 3.3824) -> (3.25, -1.5)
  line L417 (3.25, -1.5) -> (2.75, -1.5)
  line L418 (2.75, -1.5) -> (2.75, 3.3824)
  line L419 (2.75, 3.3824) -> (3.25, -1.5) construction
  line L420 (3.25, 3.3824) -> (2.75, -1.5) construction
  line L421 (-7.25, 3.3824) -> (-6.75, 3.3824)
  line L422 (-6.75, 3.3824) -> (-6.75, -1.5)
  line L423 (-6.75, -1.5) -> (-7.25, -1.5)
  line L424 (-7.25, -1.5) -> (-7.25, 3.3824)
  line L425 (-7.25, 3.3824) -> (-6.75, -1.5) construction
  line L426 (-6.75, 3.3824) -> (-7.25, -1.5) construction
  line L427 (-6.25, 3.3824) -> (-5.75, 3.3824)
  line L428 (-5.75, 3.3824) -> (-5.75, -1.5)
  line L429 (-5.75, -1.5) -> (-6.25, -1.5)
  line L430 (-6.25, -1.5) -> (-6.25, 3.3824)
  line L431 (-6.25, 3.3824) -> (-5.75, -1.5) construction
  line L432 (-5.75, 3.3824) -> (-6.25, -1.5) construction
  line L433 (-5.25, 3.3824) -> (-4.75, 3.3824)
  line L434 (-4.75, 3.3824) -> (-4.75, -1.5)
  line L435 (-4.75, -1.5) -> (-5.25, -1.5)
  line L436 (-5.25, -1.5) -> (-5.25, 3.3824)
  line L437 (-5.25, 3.3824) -> (-4.75, -1.5) construction
  line L438 (-4.75, 3.3824) -> (-5.25, -1.5) construction
  line L439 (-4.25, 3.3824) -> (-3.75, 3.3824)
  line L440 (-3.75, 3.3824) -> (-3.75, -1.5)
  line L441 (-3.75, -1.5) -> (-4.25, -1.5)
  line L442 (-4.25, -1.5) -> (-4.25, 3.3824)
  line L443 (-4.25, 3.3824) -> (-3.75, -1.5) construction
  line L444 (-3.75, 3.3824) -> (-4.25, -1.5) construction
  line L445 (-3.25, 3.3824) -> (-2.75, 3.3824)
  line L446 (-2.75, 3.3824) -> (-2.75, -1.5)
  line L447 (-2.75, -1.5) -> (-3.25, -1.5)
  line L448 (-3.25, -1.5) -> (-3.25, 3.3824)
  line L449 (-3.25, 3.3824) -> (-2.75, -1.5) construction
  line L450 (-2.75, 3.3824) -> (-3.25, -1.5) construction
  line L451 (-2.25, 3.3824) -> (-1.75, 3.3824)
  line L452 (-1.75, 3.3824) -> (-1.75, -1.5)
  line L453 (-1.75, -1.5) -> (-2.25, -1.5)
  line L454 (-2.25, -1.5) -> (-2.25, 3.3824)
  line L455 (-2.25, 3.3824) -> (-1.75, -1.5) construction
  line L456 (-1.75, 3.3824) -> (-2.25, -1.5) construction
  line L457 (-1.25, 3.3824) -> (-0.75, 3.3824)
  line L458 (-0.75, 3.3824) -> (-0.75, -1.5)
  line L459 (-0.75, -1.5) -> (-1.25, -1.5)
  line L460 (-1.25, -1.5) -> (-1.25, 3.3824)
  line L461 (-1.25, 3.3824) -> (-0.75, -1.5) construction
  line L462 (-0.75, 3.3824) -> (-1.25, -1.5) construction
  line L463 (-0.25, 3.3824) -> (0.25, 3.3824)
  line L464 (0.25, 3.3824) -> (0.25, -1.5)
  line L465 (0.25, -1.5) -> (-0.25, -1.5)
  line L466 (-0.25, -1.5) -> (-0.25, 3.3824)
  line L467 (-0.25, 3.3824) -> (0.25, -1.5) construction
  line L468 (0.25, 3.3824) -> (-0.25, -1.5) construction
  line L469 (0.75, 3.3824) -> (1.25, 3.3824)
  line L470 (1.25, 3.3824) -> (1.25, -1.5)
  line L471 (1.25, -1.5) -> (0.75, -1.5)
  line L472 (0.75, -1.5) -> (0.75, 3.3824)
  line L473 (0.75, 3.3824) -> (1.25, -1.5) construction
  line L474 (1.25, 3.3824) -> (0.75, -1.5) construction
  line L475 (1.75, 3.3824) -> (2.25, 3.3824)
  line L476 (2.25, 3.3824) -> (2.25, -1.5)
  line L477 (2.25, -1.5) -> (1.75, -1.5)
  line L478 (1.75, -1.5) -> (1.75, 3.3824)
  line L479 (1.75, 3.3824) -> (2.25, -1.5) construction
  line L480 (2.25, 3.3824) -> (1.75, -1.5) construction
  line L481 (-8.25, 3.3824) -> (-7.75, 3.3824)
  line L482 (-7.75, 3.3824) -> (-7.75, -1.5)
  line L483 (-7.75, -1.5) -> (-8.25, -1.5)
  line L484 (-8.25, -1.5) -> (-8.25, 3.3824)
  line L485 (-8.25, 3.3824) -> (-7.75, -1.5) construction
  line L486 (-7.75, 3.3824) -> (-8.25, -1.5) construction
  line L487 (-7.25, 3.3824) -> (-6.75, 3.3824)
  line L488 (-6.75, 3.3824) -> (-6.75, -1.5)
  line L489 (-6.75, -1.5) -> (-7.25, -1.5)
  line L490 (-7.25, -1.5) -> (-7.25, 3.3824)
  line L491 (-7.25, 3.3824) -> (-6.75, -1.5) construction
  line L492 (-6.75, 3.3824) -> (-7.25, -1.5) construction
  line L493 (-6.25, 3.3824) -> (-5.75, 3.3824)
  line L494 (-5.75, 3.3824) -> (-5.75, -1.5)
  line L495 (-5.75, -1.5) -> (-6.25, -1.5)
  line L496 (-6.25, -1.5) -> (-6.25, 3.3824)
  line L497 (-6.25, 3.3824) -> (-5.75, -1.5) construction
  line L498 (-5.75, 3.3824) -> (-6.25, -1.5) construction
  line L499 (-5.25, 3.3824) -> (-4.75, 3.3824)
  line L500 (-4.75, 3.3824) -> (-4.75, -1.5)
  line L501 (-4.75, -1.5) -> (-5.25, -1.5)
  line L502 (-5.25, -1.5) -> (-5.25, 3.3824)
  line L503 (-5.25, 3.3824) -> (-4.75, -1.5) construction
  line L504 (-4.75, 3.3824) -> (-5.25, -1.5) construction
  line L505 (-4.25, 3.3824) -> (-3.75, 3.3824)
  line L506 (-3.75, 3.3824) -> (-3.75, -1.5)
  line L507 (-3.75, -1.5) -> (-4.25, -1.5)
  line L508 (-4.25, -1.5) -> (-4.25, 3.3824)
  line L509 (-4.25, 3.3824) -> (-3.75, -1.5) construction
  line L510 (-3.75, 3.3824) -> (-4.25, -1.5) construction
  line L511 (-3.25, 3.3824) -> (-2.75, 3.3824)
  line L512 (-2.75, 3.3824) -> (-2.75, -1.5)
  line L513 (-2.75, -1.5) -> (-3.25, -1.5)
  line L514 (-3.25, -1.5) -> (-3.25, 3.3824)
  line L515 (-3.25, 3.3824) -> (-2.75, -1.5) construction
  line L516 (-2.75, 3.3824) -> (-3.25, -1.5) construction
  line L517 (-2.25, 3.3824) -> (-1.75, 3.3824)
  line L518 (-1.75, 3.3824) -> (-1.75, -1.5)
  line L519 (-1.75, -1.5) -> (-2.25, -1.5)
  line L520 (-2.25, -1.5) -> (-2.25, 3.3824)
  line L521 (-2.25, 3.3824) -> (-1.75, -1.5) construction
  line L522 (-1.75, 3.3824) -> (-2.25, -1.5) construction
  line L523 (-1.25, 3.3824) -> (-0.75, 3.3824)
  line L524 (-0.75, 3.3824) -> (-0.75, -1.5)
  line L525 (-0.75, -1.5) -> (-1.25, -1.5)
  line L526 (-1.25, -1.5) -> (-1.25, 3.3824)
  line L527 (-1.25, 3.3824) -> (-0.75, -1.5) construction
  line L528 (-0.75, 3.3824) -> (-1.25, -1.5) construction
  line L529 (-0.25, 3.3824) -> (0.25, 3.3824)
  line L530 (0.25, 3.3824) -> (0.25, -1.5)
  line L531 (0.25, -1.5) -> (-0.25, -1.5)
  line L532 (-0.25, -1.5) -> (-0.25, 3.3824)
  line L533 (-0.25, 3.3824) -> (0.25, -1.5) construction
  line L534 (0.25, 3.3824) -> (-0.25, -1.5) construction
  line L535 (0.75, 3.3824) -> (1.25, 3.3824)
  line L536 (1.25, 3.3824) -> (1.25, -1.5)
  line L537 (1.25, -1.5) -> (0.75, -1.5)
  line L538 (0.75, -1.5) -> (0.75, 3.3824)
  line L539 (0.75, 3.3824) -> (1.25, -1.5) construction
  line L540 (1.25, 3.3824) -> (0.75, -1.5) construction
  line L541 (-9.25, 3.3824) -> (-8.75, 3.3824)
  line L542 (-8.75, 3.3824) -> (-8.75, -1.5)
  line L543 (-8.75, -1.5) -> (-9.25, -1.5)
  line L544 (-9.25, -1.5) -> (-9.25, 3.3824)
  line L545 (-9.25, 3.3824) -> (-8.75, -1.5) construction
  line L546 (-8.75, 3.3824) -> (-9.25, -1.5) construction
  line L547 (-8.25, 3.3824) -> (-7.75, 3.3824)
  line L548 (-7.75, 3.3824) -> (-7.75, -1.5)
  line L549 (-7.75, -1.5) -> (-8.25, -1.5)
  line L550 (-8.25, -1.5) -> (-8.25, 3.3824)
  line L551 (-8.25, 3.3824) -> (-7.75, -1.5) construction
  line L552 (-7.75, 3.3824) -> (-8.25, -1.5) construction
  line L553 (-7.25, 3.3824) -> (-6.75, 3.3824)
  line L554 (-6.75, 3.3824) -> (-6.75, -1.5)
  line L555 (-6.75, -1.5) -> (-7.25, -1.5)
  line L556 (-7.25, -1.5) -> (-7.25, 3.3824)
  line L557 (-7.25, 3.3824) -> (-6.75, -1.5) construction
  line L558 (-6.75, 3.3824) -> (-7.25, -1.5) construction
  line L559 (-6.25, 3.3824) -> (-5.75, 3.3824)
  line L560 (-5.75, 3.3824) -> (-5.75, -1.5)
  line L561 (-5.75, -1.5) -> (-6.25, -1.5)
  line L562 (-6.25, -1.5) -> (-6.25, 3.3824)
  line L563 (-6.25, 3.3824) -> (-5.75, -1.5) construction
  line L564 (-5.75, 3.3824) -> (-6.25, -1.5) construction
  line L565 (-5.25, 3.3824) -> (-4.75, 3.3824)
  line L566 (-4.75, 3.3824) -> (-4.75, -1.5)
  line L567 (-4.75, -1.5) -> (-5.25, -1.5)
  line L568 (-5.25, -1.5) -> (-5.25, 3.3824)
  line L569 (-5.25, 3.3824) -> (-4.75, -1.5) construction
  line L570 (-4.75, 3.3824) -> (-5.25, -1.5) construction
  line L571 (-4.25, 3.3824) -> (-3.75, 3.3824)
  line L572 (-3.75, 3.3824) -> (-3.75, -1.5)
  line L573 (-3.75, -1.5) -> (-4.25, -1.5)
  line L574 (-4.25, -1.5) -> (-4.25, 3.3824)
  line L575 (-4.25, 3.3824) -> (-3.75, -1.5) construction
  line L576 (-3.75, 3.3824) -> (-4.25, -1.5) construction
  line L577 (-3.25, 3.3824) -> (-2.75, 3.3824)
  line L578 (-2.75, 3.3824) -> (-2.75, -1.5)
  line L579 (-2.75, -1.5) -> (-3.25, -1.5)
  line L580 (-3.25, -1.5) -> (-3.25, 3.3824)
  line L581 (-3.25, 3.3824) -> (-2.75, -1.5) construction
  line L582 (-2.75, 3.3824) -> (-3.25, -1.5) construction
  line L583 (-2.25, 3.3824) -> (-1.75, 3.3824)
  line L584 (-1.75, 3.3824) -> (-1.75, -1.5)
  line L585 (-1.75, -1.5) -> (-2.25, -1.5)
  line L586 (-2.25, -1.5) -> (-2.25, 3.3824)
  line L587 (-2.25, 3.3824) -> (-1.75, -1.5) construction
  line L588 (-1.75, 3.3824) -> (-2.25, -1.5) construction
  line L589 (-1.25, 3.3824) -> (-0.75, 3.3824)
  line L590 (-0.75, 3.3824) -> (-0.75, -1.5)
  line L591 (-0.75, -1.5) -> (-1.25, -1.5)
  line L592 (-1.25, -1.5) -> (-1.25, 3.3824)
  line L593 (-1.25, 3.3824) -> (-0.75, -1.5) construction
  line L594 (-0.75, 3.3824) -> (-1.25, -1.5) construction
  line L595 (-0.25, 3.3824) -> (0.25, 3.3824)
  line L596 (0.25, 3.3824) -> (0.25, -1.5)
  line L597 (0.25, -1.5) -> (-0.25, -1.5)
  line L598 (-0.25, -1.5) -> (-0.25, 3.3824)
  line L599 (-0.25, 3.3824) -> (0.25, -1.5) construction
  line L600 (0.25, 3.3824) -> (-0.25, -1.5) construction
  point P0 (0, 0)
  point P1 (0, 0.9412)
  point P2 (1, 0.9412)
  point P3 (2, 0.9412)
  point P4 (3, 0.9412)
  point P5 (4, 0.9412)
  point P6 (5, 0.9412)
  point P7 (6, 0.9412)
  point P8 (7, 0.9412)
  point P9 (8, 0.9412)
  point P10 (9, 0.9412)
  point P11 (-1, 0.9412)
  point P12 (0, 0.9412)
  point P13 (1, 0.9412)
  point P14 (2, 0.9412)
  point P15 (3, 0.9412)
  point P16 (4, 0.9412)
  point P17 (5, 0.9412)
  point P18 (6, 0.9412)
  point P19 (7, 0.9412)
  point P20 (8, 0.9412)
  point P21 (-2, 0.9412)
  point P22 (-1, 0.9412)
  point P23 (0, 0.9412)
  point P24 (1, 0.9412)
  point P25 (2, 0.9412)
  point P26 (3, 0.9412)
  point P27 (4, 0.9412)
  point P28 (5, 0.9412)
  point P29 (6, 0.9412)
  point P30 (7, 0.9412)
  point P31 (-3, 0.9412)
  point P32 (-2, 0.9412)
  point P33 (-1, 0.9412)
  point P34 (0, 0.9412)
  point P35 (1, 0.9412)
  point P36 (2, 0.9412)
  point P37 (3, 0.9412)
  point P38 (4, 0.9412)
  point P39 (5, 0.9412)
  point P40 (6, 0.9412)
  point P41 (-4, 0.9412)
  point P42 (-3, 0.9412)
  point P43 (-2, 0.9412)
  point P44 (-1, 0.9412)
  point P45 (0, 0.9412)
  point P46 (1, 0.9412)
  point P47 (2, 0.9412)
  point P48 (3, 0.9412)
  point P49 (4, 0.9412)
  point P50 (5, 0.9412)
  point P51 (-5, 0.9412)
  point P52 (-4, 0.9412)
  point P53 (-3, 0.9412)
  point P54 (-2, 0.9412)
  point P55 (-1, 0.9412)
  point P56 (0, 0.9412)
  point P57 (1, 0.9412)
  point P58 (2, 0.9412)
  point P59 (3, 0.9412)
  point P60 (4, 0.9412)
  point P61 (-6, 0.9412)
  point P62 (-5, 0.9412)
  point P63 (-4, 0.9412)
  point P64 (-3, 0.9412)
  point P65 (-2, 0.9412)
  point P66 (-1, 0.9412)
  point P67 (0, 0.9412)
  point P68 (1, 0.9412)
  point P69 (2, 0.9412)
  point P70 (3, 0.9412)
  point P71 (-7, 0.9412)
  point P72 (-6, 0.9412)
  point P73 (-5, 0.9412)
  point P74 (-4, 0.9412)
  point P75 (-3, 0.9412)
  point P76 (-2, 0.9412)
  point P77 (-1, 0.9412)
  point P78 (0, 0.9412)
  point P79 (1, 0.9412)
  point P80 (2, 0.9412)
  point P81 (-8, 0.9412)
  point P82 (-7, 0.9412)
  point P83 (-6, 0.9412)
  point P84 (-5, 0.9412)
  point P85 (-4, 0.9412)
  point P86 (-3, 0.9412)
  point P87 (-2, 0.9412)
  point P88 (-1, 0.9412)
  point P89 (0, 0.9412)
  point P90 (1, 0.9412)
  point P91 (-9, 0.9412)
  point P92 (-8, 0.9412)
  point P93 (-7, 0.9412)
  point P94 (-6, 0.9412)
  point P95 (-5, 0.9412)
  point P96 (-4, 0.9412)
  point P97 (-3, 0.9412)
  point P98 (-2, 0.9412)
  point P99 (-1, 0.9412)
  point P100 (0, 0.9412)
  dimension "d4" = 0.5
  dimension "d5" = 1
  dimension "d8" = 1
  dimension "d11" = 1
extrude "Extrusion2" cut sketch "Sketch2" against normal blind 20
properties part number "cooling_fin"
